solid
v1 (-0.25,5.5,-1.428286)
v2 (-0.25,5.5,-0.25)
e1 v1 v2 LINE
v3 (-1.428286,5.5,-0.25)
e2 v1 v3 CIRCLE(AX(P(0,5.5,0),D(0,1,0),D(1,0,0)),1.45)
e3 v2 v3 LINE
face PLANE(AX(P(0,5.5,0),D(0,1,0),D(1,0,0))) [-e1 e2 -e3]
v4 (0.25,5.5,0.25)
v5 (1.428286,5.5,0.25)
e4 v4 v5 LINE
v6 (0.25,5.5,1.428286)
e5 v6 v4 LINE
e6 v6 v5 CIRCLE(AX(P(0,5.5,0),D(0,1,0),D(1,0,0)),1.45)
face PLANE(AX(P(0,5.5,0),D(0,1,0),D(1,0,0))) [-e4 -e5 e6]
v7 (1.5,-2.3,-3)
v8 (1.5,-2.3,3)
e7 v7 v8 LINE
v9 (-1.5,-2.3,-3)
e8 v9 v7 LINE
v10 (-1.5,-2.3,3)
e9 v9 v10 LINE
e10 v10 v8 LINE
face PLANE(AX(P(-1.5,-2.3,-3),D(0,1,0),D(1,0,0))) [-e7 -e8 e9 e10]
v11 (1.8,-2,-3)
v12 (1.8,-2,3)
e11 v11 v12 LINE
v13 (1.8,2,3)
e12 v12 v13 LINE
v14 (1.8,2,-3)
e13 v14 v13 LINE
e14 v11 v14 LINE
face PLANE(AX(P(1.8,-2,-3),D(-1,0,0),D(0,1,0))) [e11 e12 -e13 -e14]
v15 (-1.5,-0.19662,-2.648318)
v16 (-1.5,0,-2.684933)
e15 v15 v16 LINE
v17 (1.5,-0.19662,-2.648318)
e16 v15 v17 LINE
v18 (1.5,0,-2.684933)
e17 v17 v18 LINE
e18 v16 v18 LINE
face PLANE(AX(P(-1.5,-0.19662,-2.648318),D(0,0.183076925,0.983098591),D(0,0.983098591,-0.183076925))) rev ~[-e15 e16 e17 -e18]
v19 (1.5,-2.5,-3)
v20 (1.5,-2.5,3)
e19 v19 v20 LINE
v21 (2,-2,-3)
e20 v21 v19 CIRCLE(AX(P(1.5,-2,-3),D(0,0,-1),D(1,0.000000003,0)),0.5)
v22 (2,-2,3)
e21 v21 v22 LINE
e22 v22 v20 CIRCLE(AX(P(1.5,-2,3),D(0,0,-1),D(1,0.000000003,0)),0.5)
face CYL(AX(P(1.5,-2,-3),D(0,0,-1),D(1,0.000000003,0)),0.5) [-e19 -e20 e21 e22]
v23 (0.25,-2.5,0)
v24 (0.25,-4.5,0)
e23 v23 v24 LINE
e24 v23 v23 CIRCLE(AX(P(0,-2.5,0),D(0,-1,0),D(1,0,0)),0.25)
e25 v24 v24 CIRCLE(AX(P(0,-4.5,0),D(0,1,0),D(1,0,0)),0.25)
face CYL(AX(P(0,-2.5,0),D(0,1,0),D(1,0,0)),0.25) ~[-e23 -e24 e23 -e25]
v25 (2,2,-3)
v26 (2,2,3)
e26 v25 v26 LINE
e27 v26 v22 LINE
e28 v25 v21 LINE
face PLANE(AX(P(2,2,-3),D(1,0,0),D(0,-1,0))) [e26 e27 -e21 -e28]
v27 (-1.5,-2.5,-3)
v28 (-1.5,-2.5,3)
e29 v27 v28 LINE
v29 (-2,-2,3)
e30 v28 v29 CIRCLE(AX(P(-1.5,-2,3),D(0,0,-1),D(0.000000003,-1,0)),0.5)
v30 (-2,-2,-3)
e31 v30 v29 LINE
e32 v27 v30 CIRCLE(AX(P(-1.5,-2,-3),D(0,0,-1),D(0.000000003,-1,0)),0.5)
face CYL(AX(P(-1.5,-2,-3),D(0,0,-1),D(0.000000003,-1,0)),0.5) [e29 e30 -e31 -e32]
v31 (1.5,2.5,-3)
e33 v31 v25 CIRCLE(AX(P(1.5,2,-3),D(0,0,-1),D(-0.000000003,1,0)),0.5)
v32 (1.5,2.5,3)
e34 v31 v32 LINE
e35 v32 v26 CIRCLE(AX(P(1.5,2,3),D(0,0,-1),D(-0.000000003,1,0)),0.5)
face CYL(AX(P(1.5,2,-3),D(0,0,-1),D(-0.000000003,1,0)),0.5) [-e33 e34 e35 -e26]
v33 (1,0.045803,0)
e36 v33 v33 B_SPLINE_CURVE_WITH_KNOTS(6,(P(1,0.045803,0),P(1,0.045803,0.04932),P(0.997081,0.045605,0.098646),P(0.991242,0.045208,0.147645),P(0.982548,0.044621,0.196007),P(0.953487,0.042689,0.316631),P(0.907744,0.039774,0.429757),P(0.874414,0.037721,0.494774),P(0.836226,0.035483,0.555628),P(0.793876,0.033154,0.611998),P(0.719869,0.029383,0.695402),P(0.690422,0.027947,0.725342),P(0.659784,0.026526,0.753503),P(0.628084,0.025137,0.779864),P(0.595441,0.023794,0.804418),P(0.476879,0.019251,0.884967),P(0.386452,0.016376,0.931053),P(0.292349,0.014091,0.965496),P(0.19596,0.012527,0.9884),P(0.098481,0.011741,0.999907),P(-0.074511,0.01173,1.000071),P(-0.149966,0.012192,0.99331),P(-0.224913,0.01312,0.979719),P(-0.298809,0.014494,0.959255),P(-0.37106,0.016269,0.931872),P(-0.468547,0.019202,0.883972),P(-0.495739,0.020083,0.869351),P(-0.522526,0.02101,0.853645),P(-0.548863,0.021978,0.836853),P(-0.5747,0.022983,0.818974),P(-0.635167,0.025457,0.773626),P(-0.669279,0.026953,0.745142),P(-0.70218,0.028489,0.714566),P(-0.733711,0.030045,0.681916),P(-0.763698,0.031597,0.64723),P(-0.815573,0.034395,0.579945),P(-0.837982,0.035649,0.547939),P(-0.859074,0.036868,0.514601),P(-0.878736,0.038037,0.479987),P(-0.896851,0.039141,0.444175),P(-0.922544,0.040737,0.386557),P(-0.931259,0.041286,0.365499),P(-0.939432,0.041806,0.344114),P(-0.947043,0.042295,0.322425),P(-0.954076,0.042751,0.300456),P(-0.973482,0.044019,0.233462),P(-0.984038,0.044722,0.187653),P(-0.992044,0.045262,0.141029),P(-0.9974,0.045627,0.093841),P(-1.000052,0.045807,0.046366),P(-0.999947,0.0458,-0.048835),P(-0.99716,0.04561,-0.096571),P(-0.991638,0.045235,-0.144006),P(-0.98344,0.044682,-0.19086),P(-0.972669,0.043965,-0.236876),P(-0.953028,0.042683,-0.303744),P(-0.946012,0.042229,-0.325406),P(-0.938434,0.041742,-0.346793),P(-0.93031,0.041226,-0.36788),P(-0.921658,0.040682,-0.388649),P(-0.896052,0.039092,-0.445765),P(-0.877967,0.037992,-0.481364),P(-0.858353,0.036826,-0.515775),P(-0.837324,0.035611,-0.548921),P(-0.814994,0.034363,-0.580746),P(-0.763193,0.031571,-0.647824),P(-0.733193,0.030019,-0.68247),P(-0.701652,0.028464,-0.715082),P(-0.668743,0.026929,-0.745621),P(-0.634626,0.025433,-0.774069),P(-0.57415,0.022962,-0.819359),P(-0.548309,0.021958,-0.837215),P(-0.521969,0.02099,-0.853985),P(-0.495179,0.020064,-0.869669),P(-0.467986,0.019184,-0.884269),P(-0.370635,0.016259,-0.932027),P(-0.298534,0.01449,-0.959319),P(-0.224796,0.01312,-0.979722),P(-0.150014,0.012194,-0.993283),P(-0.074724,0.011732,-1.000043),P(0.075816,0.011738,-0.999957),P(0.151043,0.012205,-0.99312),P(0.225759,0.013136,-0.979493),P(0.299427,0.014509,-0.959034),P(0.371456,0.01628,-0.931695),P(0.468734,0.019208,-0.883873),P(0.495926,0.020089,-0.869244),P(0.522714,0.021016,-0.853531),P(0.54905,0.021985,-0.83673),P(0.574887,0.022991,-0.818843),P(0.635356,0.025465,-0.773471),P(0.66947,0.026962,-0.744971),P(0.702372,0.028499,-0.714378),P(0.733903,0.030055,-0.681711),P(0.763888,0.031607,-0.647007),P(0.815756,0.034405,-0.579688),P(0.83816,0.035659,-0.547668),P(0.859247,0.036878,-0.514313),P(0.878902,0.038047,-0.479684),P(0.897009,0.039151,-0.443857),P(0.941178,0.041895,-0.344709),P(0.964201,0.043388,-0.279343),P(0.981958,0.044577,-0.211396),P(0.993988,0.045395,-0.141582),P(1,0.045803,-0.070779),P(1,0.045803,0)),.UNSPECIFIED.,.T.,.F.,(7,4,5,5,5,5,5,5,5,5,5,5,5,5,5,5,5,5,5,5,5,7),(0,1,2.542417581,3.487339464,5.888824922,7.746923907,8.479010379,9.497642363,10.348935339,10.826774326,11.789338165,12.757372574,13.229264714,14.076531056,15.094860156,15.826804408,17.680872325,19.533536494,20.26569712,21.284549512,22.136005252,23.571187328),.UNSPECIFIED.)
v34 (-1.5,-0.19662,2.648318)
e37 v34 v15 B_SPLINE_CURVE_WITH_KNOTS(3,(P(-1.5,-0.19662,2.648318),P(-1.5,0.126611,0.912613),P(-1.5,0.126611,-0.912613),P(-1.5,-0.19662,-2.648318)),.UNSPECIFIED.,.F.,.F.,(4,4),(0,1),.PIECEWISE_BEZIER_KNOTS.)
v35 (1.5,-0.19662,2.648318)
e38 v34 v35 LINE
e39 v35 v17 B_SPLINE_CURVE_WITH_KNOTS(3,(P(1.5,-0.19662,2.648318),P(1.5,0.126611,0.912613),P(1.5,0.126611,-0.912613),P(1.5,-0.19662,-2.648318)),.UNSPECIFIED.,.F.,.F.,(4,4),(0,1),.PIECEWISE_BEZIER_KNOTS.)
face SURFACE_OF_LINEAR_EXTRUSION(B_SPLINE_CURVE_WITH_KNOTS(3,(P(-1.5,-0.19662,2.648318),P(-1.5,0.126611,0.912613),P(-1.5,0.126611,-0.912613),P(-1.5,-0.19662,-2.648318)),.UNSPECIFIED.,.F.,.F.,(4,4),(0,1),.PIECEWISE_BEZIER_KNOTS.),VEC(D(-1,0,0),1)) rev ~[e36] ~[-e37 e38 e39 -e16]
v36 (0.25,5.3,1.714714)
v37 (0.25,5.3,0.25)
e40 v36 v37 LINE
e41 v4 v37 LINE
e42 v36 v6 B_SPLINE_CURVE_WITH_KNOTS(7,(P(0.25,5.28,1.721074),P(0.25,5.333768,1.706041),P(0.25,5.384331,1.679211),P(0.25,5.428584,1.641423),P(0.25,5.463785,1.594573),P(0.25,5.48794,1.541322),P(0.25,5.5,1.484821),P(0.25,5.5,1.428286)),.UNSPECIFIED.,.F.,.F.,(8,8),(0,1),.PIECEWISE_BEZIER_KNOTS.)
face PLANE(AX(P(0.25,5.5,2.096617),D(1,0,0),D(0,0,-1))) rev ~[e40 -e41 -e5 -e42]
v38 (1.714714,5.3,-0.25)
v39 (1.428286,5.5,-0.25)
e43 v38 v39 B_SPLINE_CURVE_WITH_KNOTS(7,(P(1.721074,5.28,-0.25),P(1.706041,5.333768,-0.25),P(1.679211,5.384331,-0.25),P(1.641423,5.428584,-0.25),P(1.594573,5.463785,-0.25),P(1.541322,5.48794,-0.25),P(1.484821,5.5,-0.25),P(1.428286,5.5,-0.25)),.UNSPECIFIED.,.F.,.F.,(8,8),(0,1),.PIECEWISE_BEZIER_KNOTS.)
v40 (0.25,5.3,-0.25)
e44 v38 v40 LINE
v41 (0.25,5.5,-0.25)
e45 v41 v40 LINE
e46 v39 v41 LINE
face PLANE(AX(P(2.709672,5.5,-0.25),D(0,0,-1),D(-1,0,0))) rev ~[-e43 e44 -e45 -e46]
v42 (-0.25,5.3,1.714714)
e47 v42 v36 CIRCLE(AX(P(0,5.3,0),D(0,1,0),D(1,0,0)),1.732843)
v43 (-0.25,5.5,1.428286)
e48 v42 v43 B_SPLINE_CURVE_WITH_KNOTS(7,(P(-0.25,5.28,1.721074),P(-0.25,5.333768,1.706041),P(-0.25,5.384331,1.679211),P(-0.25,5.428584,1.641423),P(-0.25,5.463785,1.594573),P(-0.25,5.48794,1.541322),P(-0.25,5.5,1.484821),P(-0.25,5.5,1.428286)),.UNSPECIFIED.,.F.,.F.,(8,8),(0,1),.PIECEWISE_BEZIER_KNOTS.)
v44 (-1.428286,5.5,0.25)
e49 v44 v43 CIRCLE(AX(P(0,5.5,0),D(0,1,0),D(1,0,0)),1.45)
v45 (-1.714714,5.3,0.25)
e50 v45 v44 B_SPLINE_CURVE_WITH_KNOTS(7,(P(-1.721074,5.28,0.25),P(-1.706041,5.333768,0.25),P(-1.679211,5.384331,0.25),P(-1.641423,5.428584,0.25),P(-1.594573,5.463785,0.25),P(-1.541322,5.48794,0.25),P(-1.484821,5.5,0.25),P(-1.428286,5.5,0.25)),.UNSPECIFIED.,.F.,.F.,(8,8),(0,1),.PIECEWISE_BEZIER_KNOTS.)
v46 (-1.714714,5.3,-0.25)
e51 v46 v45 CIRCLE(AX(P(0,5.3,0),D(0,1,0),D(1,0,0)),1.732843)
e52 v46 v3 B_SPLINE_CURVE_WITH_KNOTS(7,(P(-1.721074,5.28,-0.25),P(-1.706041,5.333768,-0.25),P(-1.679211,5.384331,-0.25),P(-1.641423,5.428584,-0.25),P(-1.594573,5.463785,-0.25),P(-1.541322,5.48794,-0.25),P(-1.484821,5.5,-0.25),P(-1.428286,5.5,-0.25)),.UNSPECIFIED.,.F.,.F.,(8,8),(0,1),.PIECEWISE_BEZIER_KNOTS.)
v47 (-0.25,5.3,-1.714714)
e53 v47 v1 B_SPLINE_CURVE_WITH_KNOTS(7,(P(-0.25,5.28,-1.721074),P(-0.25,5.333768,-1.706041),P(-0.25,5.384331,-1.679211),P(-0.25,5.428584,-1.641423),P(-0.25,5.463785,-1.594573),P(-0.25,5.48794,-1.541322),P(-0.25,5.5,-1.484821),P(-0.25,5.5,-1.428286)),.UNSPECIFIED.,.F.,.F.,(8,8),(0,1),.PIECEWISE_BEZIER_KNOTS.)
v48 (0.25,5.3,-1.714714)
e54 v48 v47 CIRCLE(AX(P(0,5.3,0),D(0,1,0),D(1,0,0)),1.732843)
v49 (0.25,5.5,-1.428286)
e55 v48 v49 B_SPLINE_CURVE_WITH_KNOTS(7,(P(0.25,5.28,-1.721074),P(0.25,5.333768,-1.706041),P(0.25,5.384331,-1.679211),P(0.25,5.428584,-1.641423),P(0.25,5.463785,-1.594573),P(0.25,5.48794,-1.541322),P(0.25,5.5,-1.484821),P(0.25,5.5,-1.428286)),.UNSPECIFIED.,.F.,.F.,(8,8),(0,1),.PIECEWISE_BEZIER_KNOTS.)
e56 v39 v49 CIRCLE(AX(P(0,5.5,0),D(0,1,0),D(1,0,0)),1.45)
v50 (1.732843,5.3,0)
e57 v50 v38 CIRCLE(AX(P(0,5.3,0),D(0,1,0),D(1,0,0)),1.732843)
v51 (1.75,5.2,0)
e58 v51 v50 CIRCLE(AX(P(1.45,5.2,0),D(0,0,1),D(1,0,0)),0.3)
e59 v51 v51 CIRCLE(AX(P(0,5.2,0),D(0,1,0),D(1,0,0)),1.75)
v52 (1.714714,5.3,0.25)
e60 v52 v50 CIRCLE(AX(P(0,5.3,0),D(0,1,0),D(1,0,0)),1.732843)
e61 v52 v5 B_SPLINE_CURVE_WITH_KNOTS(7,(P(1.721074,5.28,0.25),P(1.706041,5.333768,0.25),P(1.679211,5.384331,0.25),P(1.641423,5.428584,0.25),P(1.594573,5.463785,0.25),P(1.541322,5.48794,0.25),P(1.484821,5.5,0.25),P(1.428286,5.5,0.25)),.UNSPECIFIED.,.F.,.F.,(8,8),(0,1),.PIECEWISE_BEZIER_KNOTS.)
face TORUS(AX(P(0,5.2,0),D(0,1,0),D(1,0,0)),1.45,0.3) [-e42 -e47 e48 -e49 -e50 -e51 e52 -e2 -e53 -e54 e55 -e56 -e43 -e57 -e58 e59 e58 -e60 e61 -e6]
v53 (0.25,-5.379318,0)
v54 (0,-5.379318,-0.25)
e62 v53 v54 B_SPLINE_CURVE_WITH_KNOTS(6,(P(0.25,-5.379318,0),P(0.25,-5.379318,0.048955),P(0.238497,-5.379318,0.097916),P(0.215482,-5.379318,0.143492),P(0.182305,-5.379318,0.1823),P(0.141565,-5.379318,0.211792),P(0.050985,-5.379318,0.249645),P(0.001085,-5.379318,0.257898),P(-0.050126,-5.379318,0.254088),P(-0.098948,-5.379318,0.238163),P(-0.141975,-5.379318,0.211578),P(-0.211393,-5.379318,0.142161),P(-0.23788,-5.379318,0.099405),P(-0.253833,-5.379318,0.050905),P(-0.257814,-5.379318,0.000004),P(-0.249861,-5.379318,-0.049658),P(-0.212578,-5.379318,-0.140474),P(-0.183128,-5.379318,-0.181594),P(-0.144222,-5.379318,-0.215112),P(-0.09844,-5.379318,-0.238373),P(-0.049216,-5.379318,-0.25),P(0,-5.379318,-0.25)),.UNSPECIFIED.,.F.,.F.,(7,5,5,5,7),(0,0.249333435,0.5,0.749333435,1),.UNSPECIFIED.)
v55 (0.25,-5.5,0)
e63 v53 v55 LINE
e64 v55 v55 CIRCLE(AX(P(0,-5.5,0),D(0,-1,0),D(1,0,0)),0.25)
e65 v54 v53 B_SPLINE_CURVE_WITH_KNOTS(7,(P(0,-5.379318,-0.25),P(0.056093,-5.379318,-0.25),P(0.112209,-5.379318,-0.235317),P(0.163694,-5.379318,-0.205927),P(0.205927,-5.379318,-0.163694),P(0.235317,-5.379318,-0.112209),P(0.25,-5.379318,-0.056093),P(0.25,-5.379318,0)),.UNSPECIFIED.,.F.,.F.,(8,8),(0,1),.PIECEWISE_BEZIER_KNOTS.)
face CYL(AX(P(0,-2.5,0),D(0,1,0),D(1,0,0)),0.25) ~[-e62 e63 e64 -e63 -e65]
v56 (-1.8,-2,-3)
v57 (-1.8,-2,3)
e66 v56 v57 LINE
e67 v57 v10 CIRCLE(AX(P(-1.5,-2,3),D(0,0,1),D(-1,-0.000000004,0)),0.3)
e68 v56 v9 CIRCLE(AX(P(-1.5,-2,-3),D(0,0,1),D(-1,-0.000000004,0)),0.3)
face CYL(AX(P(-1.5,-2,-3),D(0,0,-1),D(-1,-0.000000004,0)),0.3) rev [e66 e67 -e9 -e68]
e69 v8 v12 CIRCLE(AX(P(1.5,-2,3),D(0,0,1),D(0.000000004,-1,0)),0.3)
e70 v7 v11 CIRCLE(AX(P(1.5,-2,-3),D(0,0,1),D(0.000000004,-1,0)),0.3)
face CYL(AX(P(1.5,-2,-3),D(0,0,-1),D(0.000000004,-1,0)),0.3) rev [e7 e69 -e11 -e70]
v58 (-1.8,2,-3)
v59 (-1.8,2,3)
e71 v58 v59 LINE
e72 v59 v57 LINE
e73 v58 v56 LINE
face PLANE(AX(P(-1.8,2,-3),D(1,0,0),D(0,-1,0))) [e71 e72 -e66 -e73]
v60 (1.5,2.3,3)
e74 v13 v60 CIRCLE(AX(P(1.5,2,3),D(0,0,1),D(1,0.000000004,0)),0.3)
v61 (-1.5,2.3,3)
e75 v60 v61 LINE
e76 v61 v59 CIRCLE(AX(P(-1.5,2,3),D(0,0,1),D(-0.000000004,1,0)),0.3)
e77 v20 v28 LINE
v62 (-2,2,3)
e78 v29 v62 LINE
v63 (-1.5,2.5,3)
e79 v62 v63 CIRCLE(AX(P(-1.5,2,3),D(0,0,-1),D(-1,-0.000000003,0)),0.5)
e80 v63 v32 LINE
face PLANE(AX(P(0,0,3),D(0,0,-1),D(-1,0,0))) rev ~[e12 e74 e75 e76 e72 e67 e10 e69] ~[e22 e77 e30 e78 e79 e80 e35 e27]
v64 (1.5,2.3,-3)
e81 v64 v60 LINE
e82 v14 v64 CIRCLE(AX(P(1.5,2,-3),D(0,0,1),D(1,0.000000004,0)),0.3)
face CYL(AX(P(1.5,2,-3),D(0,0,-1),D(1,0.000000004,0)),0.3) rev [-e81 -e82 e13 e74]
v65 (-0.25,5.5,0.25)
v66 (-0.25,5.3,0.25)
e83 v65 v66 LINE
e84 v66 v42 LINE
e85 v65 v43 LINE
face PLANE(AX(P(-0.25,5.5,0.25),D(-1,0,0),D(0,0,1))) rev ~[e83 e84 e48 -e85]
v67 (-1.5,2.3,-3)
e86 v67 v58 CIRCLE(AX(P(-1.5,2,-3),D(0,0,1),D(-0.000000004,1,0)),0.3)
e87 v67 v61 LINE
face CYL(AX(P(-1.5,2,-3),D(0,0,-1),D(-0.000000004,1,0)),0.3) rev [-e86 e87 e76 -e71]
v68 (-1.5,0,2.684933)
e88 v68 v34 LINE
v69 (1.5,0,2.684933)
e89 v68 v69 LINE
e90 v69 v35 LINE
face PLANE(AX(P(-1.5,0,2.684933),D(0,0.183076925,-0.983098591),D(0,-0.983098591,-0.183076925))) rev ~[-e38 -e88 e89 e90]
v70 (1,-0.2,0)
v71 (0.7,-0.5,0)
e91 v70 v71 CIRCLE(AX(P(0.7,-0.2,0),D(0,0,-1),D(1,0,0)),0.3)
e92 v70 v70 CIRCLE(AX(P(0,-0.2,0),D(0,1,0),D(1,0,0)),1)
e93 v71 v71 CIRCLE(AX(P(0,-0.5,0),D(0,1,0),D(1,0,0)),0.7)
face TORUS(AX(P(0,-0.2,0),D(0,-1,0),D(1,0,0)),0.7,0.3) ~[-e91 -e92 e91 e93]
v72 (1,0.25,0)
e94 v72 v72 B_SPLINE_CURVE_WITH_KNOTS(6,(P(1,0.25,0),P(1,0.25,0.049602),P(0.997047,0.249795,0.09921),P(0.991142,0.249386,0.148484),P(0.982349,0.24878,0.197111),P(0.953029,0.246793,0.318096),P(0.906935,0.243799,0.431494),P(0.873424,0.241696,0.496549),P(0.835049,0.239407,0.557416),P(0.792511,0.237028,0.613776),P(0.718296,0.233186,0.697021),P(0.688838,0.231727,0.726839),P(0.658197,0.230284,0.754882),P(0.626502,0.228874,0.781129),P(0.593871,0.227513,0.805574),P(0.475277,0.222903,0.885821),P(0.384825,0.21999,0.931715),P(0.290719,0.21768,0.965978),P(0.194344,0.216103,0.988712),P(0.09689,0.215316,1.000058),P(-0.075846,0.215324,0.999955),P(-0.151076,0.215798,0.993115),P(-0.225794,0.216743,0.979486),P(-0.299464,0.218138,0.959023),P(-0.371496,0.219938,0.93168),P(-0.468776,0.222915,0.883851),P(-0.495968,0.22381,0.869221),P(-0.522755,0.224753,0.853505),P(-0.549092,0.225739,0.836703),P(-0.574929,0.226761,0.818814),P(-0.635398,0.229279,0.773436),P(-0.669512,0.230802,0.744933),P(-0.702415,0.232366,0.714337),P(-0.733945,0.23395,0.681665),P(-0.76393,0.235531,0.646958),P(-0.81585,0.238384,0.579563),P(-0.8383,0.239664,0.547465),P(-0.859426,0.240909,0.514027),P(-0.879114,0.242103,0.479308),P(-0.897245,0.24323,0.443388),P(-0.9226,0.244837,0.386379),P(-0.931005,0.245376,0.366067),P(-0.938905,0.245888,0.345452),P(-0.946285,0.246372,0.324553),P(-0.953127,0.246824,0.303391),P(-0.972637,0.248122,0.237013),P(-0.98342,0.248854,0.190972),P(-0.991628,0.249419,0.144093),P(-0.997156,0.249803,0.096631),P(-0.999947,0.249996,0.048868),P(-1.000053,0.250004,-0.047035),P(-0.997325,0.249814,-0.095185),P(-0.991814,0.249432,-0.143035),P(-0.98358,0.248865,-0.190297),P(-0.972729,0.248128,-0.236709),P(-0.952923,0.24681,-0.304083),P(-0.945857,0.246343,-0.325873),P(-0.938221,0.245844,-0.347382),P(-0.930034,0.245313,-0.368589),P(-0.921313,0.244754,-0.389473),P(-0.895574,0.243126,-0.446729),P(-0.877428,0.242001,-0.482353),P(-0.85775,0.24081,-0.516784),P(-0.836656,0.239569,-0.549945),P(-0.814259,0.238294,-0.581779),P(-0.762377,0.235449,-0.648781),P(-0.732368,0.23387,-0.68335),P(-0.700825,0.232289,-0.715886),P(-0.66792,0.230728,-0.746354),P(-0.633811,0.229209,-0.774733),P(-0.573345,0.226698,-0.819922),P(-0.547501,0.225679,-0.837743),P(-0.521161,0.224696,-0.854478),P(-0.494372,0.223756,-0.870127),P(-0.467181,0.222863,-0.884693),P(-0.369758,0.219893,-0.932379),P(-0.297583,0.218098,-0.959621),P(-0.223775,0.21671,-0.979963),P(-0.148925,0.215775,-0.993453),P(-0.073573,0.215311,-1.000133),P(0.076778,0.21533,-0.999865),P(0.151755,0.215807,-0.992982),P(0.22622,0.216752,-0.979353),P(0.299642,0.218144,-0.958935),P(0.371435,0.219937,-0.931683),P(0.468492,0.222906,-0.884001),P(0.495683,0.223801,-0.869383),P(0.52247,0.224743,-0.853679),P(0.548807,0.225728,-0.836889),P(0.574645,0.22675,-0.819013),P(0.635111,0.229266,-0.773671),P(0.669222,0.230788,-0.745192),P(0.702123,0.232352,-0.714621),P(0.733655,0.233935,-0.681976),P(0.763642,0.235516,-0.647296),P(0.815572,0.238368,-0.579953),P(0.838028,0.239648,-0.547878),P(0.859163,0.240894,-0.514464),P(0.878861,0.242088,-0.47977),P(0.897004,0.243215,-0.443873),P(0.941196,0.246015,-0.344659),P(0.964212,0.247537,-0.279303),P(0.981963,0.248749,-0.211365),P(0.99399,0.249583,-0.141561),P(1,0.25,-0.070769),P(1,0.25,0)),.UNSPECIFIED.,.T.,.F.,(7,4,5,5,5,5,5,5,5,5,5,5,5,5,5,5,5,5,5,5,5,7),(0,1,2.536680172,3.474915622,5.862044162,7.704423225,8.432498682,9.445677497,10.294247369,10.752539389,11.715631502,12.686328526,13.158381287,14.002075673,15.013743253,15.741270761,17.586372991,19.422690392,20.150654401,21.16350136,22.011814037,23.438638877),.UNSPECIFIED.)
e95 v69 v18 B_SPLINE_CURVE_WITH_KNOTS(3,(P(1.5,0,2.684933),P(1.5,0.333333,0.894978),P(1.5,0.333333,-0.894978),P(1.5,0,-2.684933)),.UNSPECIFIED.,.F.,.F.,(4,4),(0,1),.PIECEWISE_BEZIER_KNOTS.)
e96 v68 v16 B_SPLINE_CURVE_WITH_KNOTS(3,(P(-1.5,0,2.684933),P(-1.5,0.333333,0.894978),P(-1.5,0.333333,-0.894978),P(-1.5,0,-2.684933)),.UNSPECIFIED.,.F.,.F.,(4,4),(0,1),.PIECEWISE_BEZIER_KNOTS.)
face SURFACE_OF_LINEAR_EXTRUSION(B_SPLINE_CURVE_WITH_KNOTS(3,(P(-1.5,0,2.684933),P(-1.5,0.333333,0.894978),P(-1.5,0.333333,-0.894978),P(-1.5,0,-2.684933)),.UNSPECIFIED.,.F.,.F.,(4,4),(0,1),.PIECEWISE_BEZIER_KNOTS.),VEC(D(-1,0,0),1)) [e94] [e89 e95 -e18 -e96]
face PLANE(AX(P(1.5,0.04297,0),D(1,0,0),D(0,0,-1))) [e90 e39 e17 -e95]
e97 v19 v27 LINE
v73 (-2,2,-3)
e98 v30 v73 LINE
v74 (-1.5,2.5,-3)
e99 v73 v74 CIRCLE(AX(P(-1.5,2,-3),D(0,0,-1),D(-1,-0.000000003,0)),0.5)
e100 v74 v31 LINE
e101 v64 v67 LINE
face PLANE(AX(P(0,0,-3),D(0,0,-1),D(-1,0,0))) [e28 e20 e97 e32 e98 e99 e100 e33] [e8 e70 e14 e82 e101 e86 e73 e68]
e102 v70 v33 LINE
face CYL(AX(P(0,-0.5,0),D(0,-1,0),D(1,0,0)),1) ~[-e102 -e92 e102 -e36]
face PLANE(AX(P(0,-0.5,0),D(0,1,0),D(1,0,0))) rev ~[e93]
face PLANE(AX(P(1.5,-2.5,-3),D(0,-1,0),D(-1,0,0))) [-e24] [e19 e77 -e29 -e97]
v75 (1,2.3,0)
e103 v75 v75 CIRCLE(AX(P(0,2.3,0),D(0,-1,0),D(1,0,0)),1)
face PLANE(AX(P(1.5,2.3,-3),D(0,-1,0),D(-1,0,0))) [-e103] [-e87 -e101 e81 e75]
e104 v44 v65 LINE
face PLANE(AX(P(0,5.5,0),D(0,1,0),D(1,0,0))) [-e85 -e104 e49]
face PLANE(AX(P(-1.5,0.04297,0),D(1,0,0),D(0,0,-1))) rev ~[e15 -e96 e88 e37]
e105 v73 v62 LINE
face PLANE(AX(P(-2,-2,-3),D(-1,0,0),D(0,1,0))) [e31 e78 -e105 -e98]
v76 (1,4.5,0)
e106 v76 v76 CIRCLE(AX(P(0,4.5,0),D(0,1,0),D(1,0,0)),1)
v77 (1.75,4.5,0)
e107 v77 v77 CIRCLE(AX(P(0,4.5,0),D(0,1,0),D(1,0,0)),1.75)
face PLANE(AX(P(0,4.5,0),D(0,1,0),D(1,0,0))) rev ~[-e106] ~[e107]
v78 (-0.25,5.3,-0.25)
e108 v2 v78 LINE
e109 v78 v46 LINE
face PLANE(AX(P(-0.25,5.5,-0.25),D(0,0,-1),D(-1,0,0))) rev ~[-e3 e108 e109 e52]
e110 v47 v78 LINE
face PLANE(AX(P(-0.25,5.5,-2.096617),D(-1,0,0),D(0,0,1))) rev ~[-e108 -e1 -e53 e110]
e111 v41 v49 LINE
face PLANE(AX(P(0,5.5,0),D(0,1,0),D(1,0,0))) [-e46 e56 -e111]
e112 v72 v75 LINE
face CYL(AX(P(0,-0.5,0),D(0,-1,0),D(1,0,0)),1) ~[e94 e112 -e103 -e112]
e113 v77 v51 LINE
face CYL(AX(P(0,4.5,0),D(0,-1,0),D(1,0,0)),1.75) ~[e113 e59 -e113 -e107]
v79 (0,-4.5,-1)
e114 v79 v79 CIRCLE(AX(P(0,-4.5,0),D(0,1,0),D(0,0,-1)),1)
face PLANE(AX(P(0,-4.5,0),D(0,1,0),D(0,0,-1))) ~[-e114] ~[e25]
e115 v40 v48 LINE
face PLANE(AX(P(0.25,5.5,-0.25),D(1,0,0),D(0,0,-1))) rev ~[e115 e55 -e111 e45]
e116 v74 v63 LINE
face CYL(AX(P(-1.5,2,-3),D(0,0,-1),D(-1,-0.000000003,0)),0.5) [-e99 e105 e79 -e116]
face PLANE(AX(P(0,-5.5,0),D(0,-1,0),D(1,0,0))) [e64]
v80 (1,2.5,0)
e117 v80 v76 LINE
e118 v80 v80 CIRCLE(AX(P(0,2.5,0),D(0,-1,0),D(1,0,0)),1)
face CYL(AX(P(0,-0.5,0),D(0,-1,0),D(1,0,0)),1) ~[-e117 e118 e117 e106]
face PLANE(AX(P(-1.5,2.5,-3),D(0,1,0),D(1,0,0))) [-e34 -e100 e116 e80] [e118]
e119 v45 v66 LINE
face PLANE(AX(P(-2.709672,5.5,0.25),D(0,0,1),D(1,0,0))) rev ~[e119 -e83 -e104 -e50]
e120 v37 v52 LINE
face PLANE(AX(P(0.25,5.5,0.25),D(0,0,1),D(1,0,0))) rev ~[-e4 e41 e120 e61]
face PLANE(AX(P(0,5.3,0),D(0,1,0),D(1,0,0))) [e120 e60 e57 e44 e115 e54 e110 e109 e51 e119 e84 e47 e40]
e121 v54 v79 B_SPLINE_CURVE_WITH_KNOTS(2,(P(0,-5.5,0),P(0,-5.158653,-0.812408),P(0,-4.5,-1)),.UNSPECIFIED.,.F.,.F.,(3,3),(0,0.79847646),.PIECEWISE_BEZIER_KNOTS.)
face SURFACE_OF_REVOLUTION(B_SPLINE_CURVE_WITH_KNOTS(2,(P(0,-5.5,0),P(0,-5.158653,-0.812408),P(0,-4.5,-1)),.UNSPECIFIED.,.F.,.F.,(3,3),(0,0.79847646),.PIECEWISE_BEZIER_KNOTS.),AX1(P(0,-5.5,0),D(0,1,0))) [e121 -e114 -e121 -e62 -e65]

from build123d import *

# Parameters (mm, degrees)
Y_KSEKLIK_EKSTR_ZYON1_DEPTH      = 3
Y_KSEKLIK_EKSTR_ZYON1_DEPTH_BACK = 3
Y_KSEKLIK_EKSTR_ZYON7_DEPTH      = 1.5
Y_KSEKLIK_EKSTR_ZYON7_DEPTH_BACK = 1.5
Y_KSEKLIK_EKSTR_ZYON8_DEPTH      = 2
Y_KSEKLIK_EKSTR_ZYON8_DEPTH_BACK = 3
IZIM11_R                         = 1
RADYUS3_R                        = 0.3
IZIM12_R                         = 1.75
Y_KSEKLIK_EKSTR_ZYON9_DEPTH      = 1
RADYUS4_R                        = 0.3
KES_EKSTR_ZYON5_DEPTH            = 0.2
IZIM14_R                         = 0.25
Y_KSEKLIK_EKSTR_ZYON10_DEPTH     = 3


with BuildPart() as part:
    # Çizim1 → Yükseklik-Ekstrüzyon1 (new, two sides: drawn at the far end of the back side and taken through both)
    with BuildSketch(Plane.XY.offset(-Y_KSEKLIK_EKSTR_ZYON1_DEPTH_BACK)):
        with BuildLine():
            Line((-1.5, 2.5), (1.5, 2.5))
            ThreePointArc((1.5, 2.5), (1.853553391, 2.353553391), (2, 2))
            Line((2, 2), (2, -2))
            ThreePointArc((2, -2), (1.853553391, -2.353553391), (1.5, -2.5))
            Line((1.5, -2.5), (-1.5, -2.5))
            ThreePointArc((-1.5, -2.5), (-1.853553391, -2.353553391), (-2, -2))
            Line((-2, -2), (-2, 2))
            ThreePointArc((-2, 2), (-1.853553391, 2.353553391), (-1.5, 2.5))
        make_face()
        with BuildLine():
            Line((-1.8, 2), (-1.8, -2))
            ThreePointArc((-1.8, -2), (-1.712132034, -2.212132034), (-1.5, -2.3))
            Line((-1.5, -2.3), (1.5, -2.3))
            ThreePointArc((1.5, -2.3), (1.712132034, -2.212132034), (1.8, -2))
            Line((1.8, -2), (1.8, 2))
            ThreePointArc((1.8, 2), (1.712132034, 2.212132034), (1.5, 2.3))
            Line((1.5, 2.3), (-1.5, 2.3))
            ThreePointArc((-1.5, 2.3), (-1.712132034, 2.212132034), (-1.8, 2))
        make_face(mode=Mode.SUBTRACT)
    extrude(amount=Y_KSEKLIK_EKSTR_ZYON1_DEPTH + Y_KSEKLIK_EKSTR_ZYON1_DEPTH_BACK)



with BuildPart() as body_2:
    # Çizim10 → Yükseklik-Ekstrüzyon7 (new, two sides: drawn at the far end of the back side and taken through both)
    with BuildSketch(Plane(origin=(0, 0, 0), x_dir=(0, 0, -1), z_dir=(1, 0, 0)).offset(-Y_KSEKLIK_EKSTR_ZYON7_DEPTH_BACK)):
        with BuildLine():
            Line((-2.684933096, 0), (-2.648317711, -0.196619718))
            add(Edge.make_bspline(
                [(-2.648317711, -0.196619718), (-0.912612771, 0.126610857), (0.912612771, 0.126610857), (2.648317711, -0.196619718)],
                knots=[0, 0, 0, 0, 1, 1, 1, 1], degree=3))
            Line((2.648317711, -0.196619718), (2.684933096, 0))
            add(Edge.make_bspline(
                [(-2.684933096, 0), (-0.894977699, 0.333333333), (0.894977699, 0.333333333), (2.684933096, 0)],
                knots=[0, 0, 0, 0, 1, 1, 1, 1], degree=3))
        make_face()
    extrude(amount=Y_KSEKLIK_EKSTR_ZYON7_DEPTH + Y_KSEKLIK_EKSTR_ZYON7_DEPTH_BACK)


with BuildPart() as part_1:
    add(part.part)

    add(body_2.part)  # Yükseklik-Ekstrüzyon8 merges body 2
    # Çizim11 → Yükseklik-Ekstrüzyon8 (add, two sides: drawn at the far end of the back side and taken through both)
    with BuildSketch(Plane(origin=(0, 2.5, 0), x_dir=(1, 0, 0), z_dir=(0, 1, 0)).offset(-Y_KSEKLIK_EKSTR_ZYON8_DEPTH_BACK)):
        Circle(IZIM11_R)
    extrude(amount=Y_KSEKLIK_EKSTR_ZYON8_DEPTH + Y_KSEKLIK_EKSTR_ZYON8_DEPTH_BACK)

    # Radyus3
    radyus3_edges = [part_1.edges().sort_by_distance(p)[0] for p in [
        (-1, -0.5, 0),
    ]]
    fillet(radyus3_edges, radius=RADYUS3_R)

    # Çizim12 → Yükseklik-Ekstrüzyon9 (add)
    with BuildSketch(Plane(origin=(0, 4.5, 0), x_dir=(1, 0, 0), z_dir=(0, 1, 0))):
        Circle(IZIM12_R)
    extrude(amount=Y_KSEKLIK_EKSTR_ZYON9_DEPTH)

    # Radyus4
    radyus4_edges = [part_1.edges().sort_by_distance(p)[0] for p in [
        (-1.75, 5.5, 0),
    ]]
    fillet(radyus4_edges, radius=RADYUS4_R)

    # Çizim13 → Kes-Ekstrüzyon5 (cut)
    with BuildSketch(Plane(origin=(0, 5.5, 0), x_dir=(1, 0, 0), z_dir=(0, 1, 0))):
        Polygon((-0.25, -0.25), (-0.25, -2.096616873), (0.25, -2.096616873), (0.25, -0.25), (2.70967232, -0.25), (2.70967232, 0.25), (0.25, 0.25), (0.25, 2.096616873), (-0.25, 2.096616873), (-0.25, 0.25), (-2.70967232, 0.25), (-2.70967232, -0.25), align=None)
    extrude(amount=-KES_EKSTR_ZYON5_DEPTH, mode=Mode.SUBTRACT)

    # Çizim14 → Yükseklik-Ekstrüzyon10 (add)
    with BuildSketch(Plane.XZ.offset(2.5)):
        Circle(IZIM14_R)
    extrude(amount=Y_KSEKLIK_EKSTR_ZYON10_DEPTH)

    # Çizim15 → Döndür2 (revolve)
    with BuildSketch(Plane(origin=(0, 0, 0), x_dir=(0, 0, -1), z_dir=(1, 0, 0))):
        with BuildLine():
            Line((0, -5.5), (0, -4.5))
            Line((0, -4.5), (1, -4.5))
            add(Edge.make_bspline(
                [(0, -5.5), (0.812408403, -5.158653256), (1, -4.5)],
                knots=[0, 0, 0, 0.79847646, 0.79847646, 0.79847646], degree=2))
        make_face()
    revolve(axis=Axis((0, -5.5, 0), (0, 1, 0)))


solid = part_1.part
